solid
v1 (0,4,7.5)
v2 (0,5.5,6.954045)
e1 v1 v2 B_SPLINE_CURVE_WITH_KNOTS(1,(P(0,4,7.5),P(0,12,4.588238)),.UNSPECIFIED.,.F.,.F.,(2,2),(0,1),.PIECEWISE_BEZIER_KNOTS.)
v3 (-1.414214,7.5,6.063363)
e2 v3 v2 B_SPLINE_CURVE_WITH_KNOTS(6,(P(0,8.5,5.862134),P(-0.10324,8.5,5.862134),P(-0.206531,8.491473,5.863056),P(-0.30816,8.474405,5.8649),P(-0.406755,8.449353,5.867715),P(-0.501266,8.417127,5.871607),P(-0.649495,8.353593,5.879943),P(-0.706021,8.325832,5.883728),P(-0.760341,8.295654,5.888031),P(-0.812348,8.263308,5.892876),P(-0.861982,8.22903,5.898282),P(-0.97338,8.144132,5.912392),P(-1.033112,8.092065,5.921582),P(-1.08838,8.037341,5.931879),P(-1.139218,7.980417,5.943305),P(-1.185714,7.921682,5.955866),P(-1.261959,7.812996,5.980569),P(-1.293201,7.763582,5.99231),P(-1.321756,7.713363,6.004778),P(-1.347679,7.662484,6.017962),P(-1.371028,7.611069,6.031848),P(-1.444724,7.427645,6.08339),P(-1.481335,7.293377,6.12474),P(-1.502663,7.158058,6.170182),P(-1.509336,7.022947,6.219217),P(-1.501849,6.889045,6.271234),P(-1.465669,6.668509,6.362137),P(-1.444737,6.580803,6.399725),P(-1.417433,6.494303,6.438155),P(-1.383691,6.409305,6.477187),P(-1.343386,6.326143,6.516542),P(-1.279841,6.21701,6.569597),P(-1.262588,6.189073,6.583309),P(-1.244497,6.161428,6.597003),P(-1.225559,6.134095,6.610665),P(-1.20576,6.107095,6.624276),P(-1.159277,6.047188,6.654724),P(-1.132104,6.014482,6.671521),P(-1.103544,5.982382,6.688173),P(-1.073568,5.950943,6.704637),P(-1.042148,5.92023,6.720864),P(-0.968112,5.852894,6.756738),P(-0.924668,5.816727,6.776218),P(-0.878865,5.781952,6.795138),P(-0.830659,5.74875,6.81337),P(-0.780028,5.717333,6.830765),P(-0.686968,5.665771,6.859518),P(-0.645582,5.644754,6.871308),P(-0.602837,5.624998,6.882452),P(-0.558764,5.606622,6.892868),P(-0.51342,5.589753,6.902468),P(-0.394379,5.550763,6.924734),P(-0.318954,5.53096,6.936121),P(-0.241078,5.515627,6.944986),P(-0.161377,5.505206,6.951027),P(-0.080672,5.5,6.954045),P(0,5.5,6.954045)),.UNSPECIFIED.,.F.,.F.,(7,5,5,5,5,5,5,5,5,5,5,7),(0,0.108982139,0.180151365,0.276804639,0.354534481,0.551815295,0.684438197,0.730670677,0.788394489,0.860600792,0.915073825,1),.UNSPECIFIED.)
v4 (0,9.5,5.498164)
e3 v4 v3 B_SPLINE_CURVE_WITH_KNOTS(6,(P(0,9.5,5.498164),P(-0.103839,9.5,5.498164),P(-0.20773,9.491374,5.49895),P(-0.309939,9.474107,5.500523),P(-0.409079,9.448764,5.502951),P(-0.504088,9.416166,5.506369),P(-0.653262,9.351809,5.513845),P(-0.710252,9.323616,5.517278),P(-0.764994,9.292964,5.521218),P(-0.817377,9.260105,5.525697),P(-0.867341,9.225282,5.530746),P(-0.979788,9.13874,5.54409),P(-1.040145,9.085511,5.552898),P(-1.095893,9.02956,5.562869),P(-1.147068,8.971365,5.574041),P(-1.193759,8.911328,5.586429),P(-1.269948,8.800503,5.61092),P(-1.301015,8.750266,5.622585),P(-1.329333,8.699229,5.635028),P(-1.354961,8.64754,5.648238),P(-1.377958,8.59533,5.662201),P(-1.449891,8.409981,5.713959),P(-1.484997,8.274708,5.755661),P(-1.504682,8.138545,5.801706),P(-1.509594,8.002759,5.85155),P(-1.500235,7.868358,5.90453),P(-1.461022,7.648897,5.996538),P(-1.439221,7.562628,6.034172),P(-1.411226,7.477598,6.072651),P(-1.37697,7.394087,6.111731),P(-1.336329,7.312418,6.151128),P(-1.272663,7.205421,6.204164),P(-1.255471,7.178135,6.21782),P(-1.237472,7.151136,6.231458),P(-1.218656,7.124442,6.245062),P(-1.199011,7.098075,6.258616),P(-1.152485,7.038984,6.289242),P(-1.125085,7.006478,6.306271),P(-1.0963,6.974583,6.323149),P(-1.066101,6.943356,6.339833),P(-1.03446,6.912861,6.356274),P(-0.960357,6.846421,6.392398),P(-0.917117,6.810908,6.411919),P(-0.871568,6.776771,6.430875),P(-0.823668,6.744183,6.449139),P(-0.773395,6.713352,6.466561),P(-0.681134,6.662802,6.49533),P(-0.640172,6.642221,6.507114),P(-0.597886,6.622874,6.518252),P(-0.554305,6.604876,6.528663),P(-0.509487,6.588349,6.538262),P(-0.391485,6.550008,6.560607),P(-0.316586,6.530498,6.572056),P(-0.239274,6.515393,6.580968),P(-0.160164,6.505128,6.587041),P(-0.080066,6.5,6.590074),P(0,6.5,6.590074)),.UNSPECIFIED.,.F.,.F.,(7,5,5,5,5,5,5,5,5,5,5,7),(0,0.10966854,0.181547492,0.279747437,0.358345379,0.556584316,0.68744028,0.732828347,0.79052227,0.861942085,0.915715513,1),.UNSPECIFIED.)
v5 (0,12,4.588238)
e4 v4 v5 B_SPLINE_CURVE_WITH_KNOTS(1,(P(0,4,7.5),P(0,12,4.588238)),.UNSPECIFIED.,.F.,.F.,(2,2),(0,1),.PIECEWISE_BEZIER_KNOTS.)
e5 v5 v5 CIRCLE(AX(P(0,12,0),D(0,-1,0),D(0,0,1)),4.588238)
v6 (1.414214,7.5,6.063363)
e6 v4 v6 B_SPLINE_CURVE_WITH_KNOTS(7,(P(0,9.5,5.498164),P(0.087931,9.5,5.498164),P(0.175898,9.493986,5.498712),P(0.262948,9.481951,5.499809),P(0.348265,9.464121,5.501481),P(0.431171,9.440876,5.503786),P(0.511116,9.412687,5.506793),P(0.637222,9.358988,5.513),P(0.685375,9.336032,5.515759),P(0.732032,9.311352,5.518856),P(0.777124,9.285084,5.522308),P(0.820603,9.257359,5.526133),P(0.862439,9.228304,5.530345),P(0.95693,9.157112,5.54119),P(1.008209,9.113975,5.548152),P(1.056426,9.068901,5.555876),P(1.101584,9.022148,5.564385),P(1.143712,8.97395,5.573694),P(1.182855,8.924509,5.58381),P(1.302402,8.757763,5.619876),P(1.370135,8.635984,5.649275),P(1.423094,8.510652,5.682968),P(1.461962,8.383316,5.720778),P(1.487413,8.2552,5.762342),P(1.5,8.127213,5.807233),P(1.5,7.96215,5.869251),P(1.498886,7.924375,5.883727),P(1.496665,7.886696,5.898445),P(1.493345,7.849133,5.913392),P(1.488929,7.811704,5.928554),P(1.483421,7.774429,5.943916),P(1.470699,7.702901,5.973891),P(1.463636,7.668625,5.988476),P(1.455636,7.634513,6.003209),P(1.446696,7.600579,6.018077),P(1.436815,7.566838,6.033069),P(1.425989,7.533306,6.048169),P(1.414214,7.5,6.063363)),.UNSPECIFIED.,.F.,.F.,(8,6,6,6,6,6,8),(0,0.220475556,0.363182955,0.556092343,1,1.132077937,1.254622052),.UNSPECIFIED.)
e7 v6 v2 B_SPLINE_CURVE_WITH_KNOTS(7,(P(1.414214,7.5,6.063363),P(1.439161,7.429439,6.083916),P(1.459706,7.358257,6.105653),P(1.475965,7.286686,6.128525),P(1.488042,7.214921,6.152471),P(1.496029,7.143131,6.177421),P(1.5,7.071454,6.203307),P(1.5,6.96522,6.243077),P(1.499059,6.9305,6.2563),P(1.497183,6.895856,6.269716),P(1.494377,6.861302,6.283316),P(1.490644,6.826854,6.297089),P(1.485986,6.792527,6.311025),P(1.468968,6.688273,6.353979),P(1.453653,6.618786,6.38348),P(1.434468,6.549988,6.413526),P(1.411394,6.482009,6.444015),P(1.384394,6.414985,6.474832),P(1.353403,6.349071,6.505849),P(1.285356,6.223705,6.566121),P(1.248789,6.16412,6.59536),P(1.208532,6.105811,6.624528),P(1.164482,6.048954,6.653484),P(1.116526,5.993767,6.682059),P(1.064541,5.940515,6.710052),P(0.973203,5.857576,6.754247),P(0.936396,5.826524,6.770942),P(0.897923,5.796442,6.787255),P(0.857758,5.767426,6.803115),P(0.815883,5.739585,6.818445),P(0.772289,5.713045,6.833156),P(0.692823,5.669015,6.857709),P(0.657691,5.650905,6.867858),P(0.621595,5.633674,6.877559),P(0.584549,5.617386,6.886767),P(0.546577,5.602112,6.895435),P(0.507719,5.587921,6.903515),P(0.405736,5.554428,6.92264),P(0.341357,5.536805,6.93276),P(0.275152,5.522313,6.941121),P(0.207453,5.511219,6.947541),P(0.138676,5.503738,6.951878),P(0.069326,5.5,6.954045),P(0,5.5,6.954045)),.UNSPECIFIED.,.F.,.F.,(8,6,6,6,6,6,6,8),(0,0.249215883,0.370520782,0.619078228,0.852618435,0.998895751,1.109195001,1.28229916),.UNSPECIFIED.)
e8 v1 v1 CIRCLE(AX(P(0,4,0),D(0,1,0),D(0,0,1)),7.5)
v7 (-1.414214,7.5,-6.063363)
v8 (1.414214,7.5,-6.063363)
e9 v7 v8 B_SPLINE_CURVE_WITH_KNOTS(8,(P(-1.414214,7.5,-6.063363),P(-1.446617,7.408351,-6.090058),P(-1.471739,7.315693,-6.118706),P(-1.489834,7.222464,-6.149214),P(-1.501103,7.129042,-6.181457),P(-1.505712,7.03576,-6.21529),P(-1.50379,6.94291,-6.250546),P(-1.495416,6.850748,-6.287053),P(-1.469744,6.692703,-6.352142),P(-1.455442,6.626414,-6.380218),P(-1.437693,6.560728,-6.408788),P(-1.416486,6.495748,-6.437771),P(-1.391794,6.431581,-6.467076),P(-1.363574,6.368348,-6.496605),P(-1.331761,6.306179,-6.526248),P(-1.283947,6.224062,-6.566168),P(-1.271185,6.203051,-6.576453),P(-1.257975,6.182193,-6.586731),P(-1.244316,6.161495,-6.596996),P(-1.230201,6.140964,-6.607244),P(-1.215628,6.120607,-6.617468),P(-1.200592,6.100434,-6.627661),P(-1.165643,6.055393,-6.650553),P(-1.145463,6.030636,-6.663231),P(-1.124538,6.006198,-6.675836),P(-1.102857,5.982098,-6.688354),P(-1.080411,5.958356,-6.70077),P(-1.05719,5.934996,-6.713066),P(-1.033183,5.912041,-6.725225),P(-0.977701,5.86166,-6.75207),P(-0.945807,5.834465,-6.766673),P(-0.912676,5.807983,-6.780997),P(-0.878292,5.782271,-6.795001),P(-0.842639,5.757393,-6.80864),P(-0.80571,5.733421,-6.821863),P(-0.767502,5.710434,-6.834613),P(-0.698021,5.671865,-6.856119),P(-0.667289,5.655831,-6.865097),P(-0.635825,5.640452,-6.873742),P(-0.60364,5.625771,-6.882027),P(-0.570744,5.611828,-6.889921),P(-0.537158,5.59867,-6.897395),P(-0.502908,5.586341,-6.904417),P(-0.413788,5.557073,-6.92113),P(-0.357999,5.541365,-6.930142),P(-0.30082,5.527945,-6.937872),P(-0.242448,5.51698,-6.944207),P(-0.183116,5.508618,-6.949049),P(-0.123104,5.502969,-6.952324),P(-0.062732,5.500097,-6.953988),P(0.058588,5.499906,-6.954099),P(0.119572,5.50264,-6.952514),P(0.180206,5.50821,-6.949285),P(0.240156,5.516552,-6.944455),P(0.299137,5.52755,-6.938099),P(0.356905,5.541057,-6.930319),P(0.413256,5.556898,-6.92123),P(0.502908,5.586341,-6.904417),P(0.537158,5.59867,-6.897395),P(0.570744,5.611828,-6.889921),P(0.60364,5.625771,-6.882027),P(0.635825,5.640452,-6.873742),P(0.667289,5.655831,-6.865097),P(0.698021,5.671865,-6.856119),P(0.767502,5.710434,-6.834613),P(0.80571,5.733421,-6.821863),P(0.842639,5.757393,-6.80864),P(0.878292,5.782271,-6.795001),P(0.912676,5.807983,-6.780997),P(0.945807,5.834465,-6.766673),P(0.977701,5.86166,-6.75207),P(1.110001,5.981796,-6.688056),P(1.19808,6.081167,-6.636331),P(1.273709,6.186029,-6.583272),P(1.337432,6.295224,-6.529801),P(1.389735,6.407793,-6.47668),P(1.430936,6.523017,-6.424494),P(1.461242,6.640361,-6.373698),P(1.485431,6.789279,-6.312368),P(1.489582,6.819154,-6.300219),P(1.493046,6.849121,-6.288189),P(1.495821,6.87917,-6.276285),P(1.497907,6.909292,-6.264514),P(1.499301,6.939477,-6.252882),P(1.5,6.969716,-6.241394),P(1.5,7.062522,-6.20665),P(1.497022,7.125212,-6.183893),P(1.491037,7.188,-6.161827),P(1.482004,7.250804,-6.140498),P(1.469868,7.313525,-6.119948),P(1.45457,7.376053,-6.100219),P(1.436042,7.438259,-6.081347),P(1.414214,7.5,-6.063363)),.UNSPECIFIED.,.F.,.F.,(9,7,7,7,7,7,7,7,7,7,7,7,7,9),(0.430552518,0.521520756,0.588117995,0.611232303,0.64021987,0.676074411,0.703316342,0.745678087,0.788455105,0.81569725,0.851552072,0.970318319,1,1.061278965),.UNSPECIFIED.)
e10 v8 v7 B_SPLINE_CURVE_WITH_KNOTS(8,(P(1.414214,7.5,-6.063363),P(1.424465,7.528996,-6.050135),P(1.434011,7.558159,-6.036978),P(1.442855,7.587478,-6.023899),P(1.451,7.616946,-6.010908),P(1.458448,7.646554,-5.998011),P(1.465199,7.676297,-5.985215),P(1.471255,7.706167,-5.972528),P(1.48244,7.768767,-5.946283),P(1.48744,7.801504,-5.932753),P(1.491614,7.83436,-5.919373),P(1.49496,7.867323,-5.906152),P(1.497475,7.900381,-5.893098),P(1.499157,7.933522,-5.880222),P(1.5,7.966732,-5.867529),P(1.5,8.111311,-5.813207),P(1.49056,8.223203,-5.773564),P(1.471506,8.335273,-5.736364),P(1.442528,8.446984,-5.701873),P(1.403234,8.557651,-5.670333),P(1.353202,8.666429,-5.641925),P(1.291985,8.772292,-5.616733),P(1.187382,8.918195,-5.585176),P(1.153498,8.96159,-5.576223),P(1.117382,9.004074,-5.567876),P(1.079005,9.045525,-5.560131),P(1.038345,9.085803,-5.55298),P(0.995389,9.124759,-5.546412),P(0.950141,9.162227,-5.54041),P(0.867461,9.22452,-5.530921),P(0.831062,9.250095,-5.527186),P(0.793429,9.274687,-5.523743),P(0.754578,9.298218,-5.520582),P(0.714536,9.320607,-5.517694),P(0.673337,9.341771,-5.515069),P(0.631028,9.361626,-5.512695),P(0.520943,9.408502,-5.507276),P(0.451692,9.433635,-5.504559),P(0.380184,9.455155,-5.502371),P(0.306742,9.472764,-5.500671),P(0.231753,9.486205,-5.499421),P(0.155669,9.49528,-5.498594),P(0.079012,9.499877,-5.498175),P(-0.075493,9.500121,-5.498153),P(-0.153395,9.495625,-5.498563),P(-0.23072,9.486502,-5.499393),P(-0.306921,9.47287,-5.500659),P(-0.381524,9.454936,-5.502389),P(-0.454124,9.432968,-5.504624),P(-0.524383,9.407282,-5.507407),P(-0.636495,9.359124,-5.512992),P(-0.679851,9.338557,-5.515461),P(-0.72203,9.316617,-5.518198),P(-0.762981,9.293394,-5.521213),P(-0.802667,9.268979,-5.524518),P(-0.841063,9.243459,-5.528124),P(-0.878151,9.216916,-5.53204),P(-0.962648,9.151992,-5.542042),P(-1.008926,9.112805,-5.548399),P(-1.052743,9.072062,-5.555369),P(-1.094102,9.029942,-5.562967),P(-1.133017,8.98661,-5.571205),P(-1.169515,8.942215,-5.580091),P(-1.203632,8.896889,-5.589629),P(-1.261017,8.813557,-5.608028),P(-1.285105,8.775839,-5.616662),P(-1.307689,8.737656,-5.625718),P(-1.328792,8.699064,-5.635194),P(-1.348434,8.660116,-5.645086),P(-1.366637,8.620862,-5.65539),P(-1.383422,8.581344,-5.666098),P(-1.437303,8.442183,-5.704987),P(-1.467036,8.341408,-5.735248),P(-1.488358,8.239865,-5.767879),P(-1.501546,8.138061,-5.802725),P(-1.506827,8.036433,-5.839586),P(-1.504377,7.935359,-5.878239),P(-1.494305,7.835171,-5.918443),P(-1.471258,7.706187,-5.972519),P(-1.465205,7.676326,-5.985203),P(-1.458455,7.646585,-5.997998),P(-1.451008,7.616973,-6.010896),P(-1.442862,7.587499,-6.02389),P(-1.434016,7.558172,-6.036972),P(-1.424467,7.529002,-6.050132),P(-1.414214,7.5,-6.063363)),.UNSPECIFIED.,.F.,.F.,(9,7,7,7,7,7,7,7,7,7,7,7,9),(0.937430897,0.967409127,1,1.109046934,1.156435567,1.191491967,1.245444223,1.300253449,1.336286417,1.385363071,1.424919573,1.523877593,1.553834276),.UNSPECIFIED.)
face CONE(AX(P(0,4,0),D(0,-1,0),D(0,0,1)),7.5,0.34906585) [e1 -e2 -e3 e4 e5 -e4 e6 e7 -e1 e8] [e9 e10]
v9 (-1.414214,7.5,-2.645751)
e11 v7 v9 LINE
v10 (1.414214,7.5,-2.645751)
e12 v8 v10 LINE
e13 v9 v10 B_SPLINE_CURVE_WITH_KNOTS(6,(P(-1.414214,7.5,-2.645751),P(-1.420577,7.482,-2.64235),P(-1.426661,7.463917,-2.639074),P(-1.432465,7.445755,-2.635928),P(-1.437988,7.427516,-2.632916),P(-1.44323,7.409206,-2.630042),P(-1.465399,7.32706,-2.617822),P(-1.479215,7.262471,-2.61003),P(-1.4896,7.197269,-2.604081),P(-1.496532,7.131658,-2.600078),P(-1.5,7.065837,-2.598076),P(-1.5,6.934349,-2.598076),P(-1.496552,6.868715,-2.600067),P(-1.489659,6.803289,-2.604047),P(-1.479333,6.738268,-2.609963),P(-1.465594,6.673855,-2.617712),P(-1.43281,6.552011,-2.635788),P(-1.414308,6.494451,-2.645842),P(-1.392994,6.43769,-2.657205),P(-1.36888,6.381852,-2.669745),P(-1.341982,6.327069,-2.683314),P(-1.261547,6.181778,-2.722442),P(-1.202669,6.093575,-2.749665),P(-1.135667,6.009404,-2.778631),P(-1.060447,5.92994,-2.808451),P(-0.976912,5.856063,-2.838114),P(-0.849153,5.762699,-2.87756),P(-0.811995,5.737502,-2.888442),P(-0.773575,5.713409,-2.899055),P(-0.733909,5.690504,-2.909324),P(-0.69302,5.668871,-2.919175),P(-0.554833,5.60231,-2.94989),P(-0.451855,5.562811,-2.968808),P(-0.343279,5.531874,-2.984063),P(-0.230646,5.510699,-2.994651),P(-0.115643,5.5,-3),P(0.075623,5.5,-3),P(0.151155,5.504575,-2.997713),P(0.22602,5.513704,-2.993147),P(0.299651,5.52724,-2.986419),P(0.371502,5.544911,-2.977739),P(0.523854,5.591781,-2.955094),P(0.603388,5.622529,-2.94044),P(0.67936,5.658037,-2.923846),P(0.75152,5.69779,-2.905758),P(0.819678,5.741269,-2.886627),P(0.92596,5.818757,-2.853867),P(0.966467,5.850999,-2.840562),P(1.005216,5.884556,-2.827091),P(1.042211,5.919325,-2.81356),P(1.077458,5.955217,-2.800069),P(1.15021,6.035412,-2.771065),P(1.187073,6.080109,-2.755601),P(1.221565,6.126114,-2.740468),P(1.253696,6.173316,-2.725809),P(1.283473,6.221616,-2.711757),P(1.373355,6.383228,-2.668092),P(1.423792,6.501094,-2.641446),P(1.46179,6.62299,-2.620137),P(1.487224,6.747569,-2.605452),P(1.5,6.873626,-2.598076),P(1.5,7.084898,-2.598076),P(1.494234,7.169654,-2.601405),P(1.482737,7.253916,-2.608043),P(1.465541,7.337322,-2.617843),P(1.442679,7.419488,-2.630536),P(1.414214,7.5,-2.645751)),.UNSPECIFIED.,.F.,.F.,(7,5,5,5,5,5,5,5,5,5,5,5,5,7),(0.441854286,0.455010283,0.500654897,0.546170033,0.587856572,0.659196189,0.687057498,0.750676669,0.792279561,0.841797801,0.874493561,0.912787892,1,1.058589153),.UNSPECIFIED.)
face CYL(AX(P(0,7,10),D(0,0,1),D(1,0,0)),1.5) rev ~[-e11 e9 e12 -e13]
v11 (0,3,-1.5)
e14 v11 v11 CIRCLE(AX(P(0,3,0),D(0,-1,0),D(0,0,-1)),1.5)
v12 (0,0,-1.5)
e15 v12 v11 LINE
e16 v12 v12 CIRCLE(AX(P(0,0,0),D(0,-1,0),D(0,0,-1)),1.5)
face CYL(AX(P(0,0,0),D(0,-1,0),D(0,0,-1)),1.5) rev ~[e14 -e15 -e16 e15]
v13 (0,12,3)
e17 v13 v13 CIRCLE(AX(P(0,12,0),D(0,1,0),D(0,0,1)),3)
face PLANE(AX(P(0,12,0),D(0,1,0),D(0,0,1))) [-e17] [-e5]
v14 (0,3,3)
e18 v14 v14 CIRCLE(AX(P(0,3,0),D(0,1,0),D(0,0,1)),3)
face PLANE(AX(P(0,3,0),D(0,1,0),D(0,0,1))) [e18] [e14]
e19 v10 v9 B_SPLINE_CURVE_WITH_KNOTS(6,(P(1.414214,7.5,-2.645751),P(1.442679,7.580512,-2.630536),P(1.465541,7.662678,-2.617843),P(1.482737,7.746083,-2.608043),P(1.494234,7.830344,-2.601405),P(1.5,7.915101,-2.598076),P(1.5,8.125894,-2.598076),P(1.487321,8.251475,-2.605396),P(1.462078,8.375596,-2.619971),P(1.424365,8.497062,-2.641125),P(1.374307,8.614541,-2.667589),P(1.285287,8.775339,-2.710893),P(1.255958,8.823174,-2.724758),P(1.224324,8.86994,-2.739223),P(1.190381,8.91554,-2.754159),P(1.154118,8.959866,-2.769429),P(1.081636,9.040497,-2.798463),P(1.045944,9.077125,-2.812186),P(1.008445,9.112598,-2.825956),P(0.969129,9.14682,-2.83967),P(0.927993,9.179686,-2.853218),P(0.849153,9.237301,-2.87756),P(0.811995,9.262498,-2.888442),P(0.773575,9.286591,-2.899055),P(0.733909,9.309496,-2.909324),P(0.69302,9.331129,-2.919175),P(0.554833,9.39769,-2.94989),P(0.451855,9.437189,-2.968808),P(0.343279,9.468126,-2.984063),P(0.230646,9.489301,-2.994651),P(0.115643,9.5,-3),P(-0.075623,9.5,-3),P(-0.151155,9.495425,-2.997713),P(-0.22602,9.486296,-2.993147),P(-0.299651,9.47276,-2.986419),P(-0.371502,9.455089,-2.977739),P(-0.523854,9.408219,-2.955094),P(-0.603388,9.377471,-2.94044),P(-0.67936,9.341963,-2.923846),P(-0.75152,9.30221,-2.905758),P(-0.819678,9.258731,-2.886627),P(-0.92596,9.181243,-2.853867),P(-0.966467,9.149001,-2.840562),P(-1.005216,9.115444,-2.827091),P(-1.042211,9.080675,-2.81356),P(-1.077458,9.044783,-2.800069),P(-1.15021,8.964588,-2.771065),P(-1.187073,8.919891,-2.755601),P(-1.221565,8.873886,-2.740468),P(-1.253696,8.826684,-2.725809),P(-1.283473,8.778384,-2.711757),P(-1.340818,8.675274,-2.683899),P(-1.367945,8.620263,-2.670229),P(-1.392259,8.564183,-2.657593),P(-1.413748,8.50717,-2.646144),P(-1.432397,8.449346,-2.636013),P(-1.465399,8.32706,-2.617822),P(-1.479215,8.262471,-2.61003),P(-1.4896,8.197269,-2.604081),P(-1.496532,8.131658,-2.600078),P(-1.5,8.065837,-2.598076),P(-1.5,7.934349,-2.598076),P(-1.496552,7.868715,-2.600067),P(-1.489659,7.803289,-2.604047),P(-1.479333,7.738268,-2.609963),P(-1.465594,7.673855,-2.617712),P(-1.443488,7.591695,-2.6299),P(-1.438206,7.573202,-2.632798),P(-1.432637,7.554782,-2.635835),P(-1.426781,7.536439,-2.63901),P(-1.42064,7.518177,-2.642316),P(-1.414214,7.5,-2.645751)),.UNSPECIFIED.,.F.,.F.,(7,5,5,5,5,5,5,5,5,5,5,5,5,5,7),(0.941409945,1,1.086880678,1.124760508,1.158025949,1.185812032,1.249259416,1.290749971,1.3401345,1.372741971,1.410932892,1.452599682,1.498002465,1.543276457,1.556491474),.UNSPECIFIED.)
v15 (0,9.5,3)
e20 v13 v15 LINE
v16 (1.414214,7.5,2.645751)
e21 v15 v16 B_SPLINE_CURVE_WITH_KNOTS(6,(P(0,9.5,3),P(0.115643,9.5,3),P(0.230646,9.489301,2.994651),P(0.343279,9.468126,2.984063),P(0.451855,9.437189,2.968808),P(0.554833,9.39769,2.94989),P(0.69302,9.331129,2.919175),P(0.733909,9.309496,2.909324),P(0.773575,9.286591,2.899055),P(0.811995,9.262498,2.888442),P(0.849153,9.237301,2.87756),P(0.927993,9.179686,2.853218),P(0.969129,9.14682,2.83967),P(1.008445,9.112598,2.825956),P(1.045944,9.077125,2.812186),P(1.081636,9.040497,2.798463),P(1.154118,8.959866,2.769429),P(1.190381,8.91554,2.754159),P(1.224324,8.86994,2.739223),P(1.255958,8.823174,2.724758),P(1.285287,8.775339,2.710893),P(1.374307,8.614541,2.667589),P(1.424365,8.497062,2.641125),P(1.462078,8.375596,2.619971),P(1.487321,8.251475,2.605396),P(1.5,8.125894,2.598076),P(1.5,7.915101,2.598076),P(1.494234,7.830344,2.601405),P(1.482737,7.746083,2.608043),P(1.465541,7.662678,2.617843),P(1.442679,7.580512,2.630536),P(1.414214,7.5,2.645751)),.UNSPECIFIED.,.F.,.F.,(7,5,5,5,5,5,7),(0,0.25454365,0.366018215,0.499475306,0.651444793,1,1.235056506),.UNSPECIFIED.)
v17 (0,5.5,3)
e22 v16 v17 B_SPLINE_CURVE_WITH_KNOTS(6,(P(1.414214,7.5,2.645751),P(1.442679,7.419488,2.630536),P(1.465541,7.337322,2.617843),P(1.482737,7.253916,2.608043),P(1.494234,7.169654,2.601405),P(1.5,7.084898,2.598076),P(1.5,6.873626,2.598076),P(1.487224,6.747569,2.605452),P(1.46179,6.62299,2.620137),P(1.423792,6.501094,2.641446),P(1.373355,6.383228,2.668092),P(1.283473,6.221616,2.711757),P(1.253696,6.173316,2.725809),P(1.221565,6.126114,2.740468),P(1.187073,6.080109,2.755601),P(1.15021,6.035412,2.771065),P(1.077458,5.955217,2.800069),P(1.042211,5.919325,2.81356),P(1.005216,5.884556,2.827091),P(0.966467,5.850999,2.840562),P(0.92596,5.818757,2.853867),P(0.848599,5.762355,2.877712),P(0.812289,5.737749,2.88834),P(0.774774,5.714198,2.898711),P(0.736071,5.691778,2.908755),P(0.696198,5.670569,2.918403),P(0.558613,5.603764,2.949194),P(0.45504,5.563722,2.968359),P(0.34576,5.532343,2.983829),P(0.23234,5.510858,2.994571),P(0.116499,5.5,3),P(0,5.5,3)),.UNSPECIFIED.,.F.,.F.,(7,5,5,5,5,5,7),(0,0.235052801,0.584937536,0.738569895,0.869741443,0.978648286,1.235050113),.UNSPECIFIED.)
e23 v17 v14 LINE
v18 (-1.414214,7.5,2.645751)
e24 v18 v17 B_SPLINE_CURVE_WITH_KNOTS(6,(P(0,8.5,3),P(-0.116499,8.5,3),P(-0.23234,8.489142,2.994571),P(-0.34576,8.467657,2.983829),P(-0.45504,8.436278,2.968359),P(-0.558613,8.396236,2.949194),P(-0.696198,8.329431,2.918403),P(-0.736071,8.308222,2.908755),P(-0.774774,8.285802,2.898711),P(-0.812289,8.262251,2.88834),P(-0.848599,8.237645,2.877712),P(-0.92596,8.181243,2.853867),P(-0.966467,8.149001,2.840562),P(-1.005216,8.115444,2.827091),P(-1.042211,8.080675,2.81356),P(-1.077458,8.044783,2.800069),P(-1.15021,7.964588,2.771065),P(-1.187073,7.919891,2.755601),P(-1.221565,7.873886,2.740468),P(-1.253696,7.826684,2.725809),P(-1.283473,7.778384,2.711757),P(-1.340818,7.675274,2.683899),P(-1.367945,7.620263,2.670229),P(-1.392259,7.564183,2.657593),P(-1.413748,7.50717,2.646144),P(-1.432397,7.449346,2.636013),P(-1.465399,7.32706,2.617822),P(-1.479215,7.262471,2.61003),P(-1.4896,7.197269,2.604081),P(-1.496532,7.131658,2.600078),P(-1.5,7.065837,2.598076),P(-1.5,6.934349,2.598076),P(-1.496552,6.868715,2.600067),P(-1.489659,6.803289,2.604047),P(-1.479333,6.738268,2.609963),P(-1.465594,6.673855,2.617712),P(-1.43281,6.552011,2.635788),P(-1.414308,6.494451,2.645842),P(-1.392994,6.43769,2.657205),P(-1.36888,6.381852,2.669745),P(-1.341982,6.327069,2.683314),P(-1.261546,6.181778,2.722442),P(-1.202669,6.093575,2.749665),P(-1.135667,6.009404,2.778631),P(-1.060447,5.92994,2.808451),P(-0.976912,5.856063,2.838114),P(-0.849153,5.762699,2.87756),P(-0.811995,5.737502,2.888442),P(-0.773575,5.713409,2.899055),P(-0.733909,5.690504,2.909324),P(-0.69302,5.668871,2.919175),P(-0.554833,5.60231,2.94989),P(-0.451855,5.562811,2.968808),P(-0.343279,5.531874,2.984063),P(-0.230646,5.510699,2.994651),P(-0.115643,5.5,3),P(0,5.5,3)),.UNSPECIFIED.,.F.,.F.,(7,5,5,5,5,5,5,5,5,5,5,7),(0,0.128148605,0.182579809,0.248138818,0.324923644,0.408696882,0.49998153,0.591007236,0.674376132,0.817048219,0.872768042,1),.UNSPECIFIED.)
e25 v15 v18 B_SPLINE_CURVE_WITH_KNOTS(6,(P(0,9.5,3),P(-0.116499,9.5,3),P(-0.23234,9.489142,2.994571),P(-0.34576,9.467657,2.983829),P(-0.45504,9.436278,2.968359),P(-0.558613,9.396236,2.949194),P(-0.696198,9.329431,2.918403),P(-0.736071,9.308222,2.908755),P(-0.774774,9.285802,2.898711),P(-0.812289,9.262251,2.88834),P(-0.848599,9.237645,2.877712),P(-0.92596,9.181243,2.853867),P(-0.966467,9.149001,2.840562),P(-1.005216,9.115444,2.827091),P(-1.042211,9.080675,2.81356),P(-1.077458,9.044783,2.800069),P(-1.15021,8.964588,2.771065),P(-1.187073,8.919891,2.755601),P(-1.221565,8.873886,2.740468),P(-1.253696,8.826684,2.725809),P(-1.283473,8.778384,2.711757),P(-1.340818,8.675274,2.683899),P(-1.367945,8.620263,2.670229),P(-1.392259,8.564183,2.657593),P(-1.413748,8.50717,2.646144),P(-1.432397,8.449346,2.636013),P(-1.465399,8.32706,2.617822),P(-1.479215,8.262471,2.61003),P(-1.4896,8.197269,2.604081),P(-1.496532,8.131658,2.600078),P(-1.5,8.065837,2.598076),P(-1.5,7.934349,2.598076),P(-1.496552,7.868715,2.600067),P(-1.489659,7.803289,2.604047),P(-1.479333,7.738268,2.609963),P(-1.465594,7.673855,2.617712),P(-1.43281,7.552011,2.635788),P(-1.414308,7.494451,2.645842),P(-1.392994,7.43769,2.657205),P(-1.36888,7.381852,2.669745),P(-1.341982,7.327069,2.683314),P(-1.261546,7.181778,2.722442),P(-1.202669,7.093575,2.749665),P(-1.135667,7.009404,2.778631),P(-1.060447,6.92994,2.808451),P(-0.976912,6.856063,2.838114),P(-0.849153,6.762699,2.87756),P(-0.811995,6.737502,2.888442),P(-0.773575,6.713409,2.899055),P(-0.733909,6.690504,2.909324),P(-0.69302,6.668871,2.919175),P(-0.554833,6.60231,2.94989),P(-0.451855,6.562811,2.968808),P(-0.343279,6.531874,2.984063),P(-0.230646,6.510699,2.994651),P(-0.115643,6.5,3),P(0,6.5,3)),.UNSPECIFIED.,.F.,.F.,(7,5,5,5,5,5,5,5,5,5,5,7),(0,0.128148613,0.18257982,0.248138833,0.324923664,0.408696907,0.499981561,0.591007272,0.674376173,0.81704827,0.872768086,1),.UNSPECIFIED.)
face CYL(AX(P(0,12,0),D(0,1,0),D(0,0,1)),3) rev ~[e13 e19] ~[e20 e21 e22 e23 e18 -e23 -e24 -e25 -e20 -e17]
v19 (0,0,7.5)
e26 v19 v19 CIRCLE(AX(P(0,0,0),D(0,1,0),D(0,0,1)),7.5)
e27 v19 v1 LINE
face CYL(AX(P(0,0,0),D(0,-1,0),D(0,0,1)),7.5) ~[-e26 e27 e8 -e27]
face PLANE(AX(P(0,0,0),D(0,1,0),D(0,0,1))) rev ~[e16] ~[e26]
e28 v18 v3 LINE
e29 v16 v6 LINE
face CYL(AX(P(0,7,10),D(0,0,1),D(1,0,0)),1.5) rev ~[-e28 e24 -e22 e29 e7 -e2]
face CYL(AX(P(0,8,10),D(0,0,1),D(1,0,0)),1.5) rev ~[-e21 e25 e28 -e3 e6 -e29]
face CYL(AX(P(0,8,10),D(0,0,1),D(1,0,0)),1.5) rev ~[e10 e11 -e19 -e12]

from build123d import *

# Parameters (mm, degrees)
SKETCH1_R           = 7.5
BOSS_EXTRUDE1_DEPTH = 4
SKETCH4_R           = 7.5
BOSS_EXTRUDE4_DEPTH = 8
BOSS_EXTRUDE4_TAPER = 20
SKETCH5_R           = 1.5
CUT_EXTRUDE2_DEPTH  = 17.015617547
SKETCH6_R           = 3
CUT_EXTRUDE3_DEPTH  = 9
SKETCH7_R           = 1.5
CUT_EXTRUDE4_DEPTH  = 23.505555034
SKETCH8_R           = 1.5
CUT_EXTRUDE5_DEPTH  = 23.505555034


with BuildPart() as part:
    # Sketch1 → Boss-Extrude1 (new body)
    with BuildSketch(Plane(origin=(0, 0, 0), x_dir=(1, 0, 0), z_dir=(0, 1, 0))):
        with Locations(Location((0, 0, 0), (0, 0, 270))):
            Circle(SKETCH1_R)
    extrude(amount=BOSS_EXTRUDE1_DEPTH)

    # Sketch4 → Boss-Extrude4 (add)
    with BuildSketch(Plane(origin=(0, 4, 0), x_dir=(1, 0, 0), z_dir=(0, 1, 0))):
        with Locations(Location((0, 0, 0), (0, 0, 270))):
            Circle(SKETCH4_R)
    extrude(amount=BOSS_EXTRUDE4_DEPTH, taper=BOSS_EXTRUDE4_TAPER)

    # Sketch5 → Cut-Extrude2 (cut, through all)
    with BuildSketch(Plane(origin=(0, 0, 0), x_dir=(-1, 0, 0), z_dir=(0, -1, 0))):
        with Locations(Location((0, 0, 0), (0, 0, 90))):
            Circle(SKETCH5_R)
    extrude(amount=-CUT_EXTRUDE2_DEPTH, mode=Mode.SUBTRACT)

    # Sketch6 → Cut-Extrude3 (cut)
    with BuildSketch(Plane(origin=(0, 12, 0), x_dir=(1, 0, 0), z_dir=(0, 1, 0))):
        with Locations(Location((0, 0, 0), (0, 0, 270))):
            Circle(SKETCH6_R)
    extrude(amount=-CUT_EXTRUDE3_DEPTH, mode=Mode.SUBTRACT)

    # Sketch7 → Cut-Extrude4 (cut, through all)
    with BuildSketch(Plane.XY.offset(10)):
        with Locations((0, 8)):
            Circle(SKETCH7_R)
    extrude(amount=-CUT_EXTRUDE4_DEPTH, mode=Mode.SUBTRACT)

    # Sketch8 → Cut-Extrude5 (cut, through all)
    with BuildSketch(Plane.XY.offset(10)):
        with Locations((0, 7)):
            Circle(SKETCH8_R)
    extrude(amount=-CUT_EXTRUDE5_DEPTH, mode=Mode.SUBTRACT)


solid = part.part
